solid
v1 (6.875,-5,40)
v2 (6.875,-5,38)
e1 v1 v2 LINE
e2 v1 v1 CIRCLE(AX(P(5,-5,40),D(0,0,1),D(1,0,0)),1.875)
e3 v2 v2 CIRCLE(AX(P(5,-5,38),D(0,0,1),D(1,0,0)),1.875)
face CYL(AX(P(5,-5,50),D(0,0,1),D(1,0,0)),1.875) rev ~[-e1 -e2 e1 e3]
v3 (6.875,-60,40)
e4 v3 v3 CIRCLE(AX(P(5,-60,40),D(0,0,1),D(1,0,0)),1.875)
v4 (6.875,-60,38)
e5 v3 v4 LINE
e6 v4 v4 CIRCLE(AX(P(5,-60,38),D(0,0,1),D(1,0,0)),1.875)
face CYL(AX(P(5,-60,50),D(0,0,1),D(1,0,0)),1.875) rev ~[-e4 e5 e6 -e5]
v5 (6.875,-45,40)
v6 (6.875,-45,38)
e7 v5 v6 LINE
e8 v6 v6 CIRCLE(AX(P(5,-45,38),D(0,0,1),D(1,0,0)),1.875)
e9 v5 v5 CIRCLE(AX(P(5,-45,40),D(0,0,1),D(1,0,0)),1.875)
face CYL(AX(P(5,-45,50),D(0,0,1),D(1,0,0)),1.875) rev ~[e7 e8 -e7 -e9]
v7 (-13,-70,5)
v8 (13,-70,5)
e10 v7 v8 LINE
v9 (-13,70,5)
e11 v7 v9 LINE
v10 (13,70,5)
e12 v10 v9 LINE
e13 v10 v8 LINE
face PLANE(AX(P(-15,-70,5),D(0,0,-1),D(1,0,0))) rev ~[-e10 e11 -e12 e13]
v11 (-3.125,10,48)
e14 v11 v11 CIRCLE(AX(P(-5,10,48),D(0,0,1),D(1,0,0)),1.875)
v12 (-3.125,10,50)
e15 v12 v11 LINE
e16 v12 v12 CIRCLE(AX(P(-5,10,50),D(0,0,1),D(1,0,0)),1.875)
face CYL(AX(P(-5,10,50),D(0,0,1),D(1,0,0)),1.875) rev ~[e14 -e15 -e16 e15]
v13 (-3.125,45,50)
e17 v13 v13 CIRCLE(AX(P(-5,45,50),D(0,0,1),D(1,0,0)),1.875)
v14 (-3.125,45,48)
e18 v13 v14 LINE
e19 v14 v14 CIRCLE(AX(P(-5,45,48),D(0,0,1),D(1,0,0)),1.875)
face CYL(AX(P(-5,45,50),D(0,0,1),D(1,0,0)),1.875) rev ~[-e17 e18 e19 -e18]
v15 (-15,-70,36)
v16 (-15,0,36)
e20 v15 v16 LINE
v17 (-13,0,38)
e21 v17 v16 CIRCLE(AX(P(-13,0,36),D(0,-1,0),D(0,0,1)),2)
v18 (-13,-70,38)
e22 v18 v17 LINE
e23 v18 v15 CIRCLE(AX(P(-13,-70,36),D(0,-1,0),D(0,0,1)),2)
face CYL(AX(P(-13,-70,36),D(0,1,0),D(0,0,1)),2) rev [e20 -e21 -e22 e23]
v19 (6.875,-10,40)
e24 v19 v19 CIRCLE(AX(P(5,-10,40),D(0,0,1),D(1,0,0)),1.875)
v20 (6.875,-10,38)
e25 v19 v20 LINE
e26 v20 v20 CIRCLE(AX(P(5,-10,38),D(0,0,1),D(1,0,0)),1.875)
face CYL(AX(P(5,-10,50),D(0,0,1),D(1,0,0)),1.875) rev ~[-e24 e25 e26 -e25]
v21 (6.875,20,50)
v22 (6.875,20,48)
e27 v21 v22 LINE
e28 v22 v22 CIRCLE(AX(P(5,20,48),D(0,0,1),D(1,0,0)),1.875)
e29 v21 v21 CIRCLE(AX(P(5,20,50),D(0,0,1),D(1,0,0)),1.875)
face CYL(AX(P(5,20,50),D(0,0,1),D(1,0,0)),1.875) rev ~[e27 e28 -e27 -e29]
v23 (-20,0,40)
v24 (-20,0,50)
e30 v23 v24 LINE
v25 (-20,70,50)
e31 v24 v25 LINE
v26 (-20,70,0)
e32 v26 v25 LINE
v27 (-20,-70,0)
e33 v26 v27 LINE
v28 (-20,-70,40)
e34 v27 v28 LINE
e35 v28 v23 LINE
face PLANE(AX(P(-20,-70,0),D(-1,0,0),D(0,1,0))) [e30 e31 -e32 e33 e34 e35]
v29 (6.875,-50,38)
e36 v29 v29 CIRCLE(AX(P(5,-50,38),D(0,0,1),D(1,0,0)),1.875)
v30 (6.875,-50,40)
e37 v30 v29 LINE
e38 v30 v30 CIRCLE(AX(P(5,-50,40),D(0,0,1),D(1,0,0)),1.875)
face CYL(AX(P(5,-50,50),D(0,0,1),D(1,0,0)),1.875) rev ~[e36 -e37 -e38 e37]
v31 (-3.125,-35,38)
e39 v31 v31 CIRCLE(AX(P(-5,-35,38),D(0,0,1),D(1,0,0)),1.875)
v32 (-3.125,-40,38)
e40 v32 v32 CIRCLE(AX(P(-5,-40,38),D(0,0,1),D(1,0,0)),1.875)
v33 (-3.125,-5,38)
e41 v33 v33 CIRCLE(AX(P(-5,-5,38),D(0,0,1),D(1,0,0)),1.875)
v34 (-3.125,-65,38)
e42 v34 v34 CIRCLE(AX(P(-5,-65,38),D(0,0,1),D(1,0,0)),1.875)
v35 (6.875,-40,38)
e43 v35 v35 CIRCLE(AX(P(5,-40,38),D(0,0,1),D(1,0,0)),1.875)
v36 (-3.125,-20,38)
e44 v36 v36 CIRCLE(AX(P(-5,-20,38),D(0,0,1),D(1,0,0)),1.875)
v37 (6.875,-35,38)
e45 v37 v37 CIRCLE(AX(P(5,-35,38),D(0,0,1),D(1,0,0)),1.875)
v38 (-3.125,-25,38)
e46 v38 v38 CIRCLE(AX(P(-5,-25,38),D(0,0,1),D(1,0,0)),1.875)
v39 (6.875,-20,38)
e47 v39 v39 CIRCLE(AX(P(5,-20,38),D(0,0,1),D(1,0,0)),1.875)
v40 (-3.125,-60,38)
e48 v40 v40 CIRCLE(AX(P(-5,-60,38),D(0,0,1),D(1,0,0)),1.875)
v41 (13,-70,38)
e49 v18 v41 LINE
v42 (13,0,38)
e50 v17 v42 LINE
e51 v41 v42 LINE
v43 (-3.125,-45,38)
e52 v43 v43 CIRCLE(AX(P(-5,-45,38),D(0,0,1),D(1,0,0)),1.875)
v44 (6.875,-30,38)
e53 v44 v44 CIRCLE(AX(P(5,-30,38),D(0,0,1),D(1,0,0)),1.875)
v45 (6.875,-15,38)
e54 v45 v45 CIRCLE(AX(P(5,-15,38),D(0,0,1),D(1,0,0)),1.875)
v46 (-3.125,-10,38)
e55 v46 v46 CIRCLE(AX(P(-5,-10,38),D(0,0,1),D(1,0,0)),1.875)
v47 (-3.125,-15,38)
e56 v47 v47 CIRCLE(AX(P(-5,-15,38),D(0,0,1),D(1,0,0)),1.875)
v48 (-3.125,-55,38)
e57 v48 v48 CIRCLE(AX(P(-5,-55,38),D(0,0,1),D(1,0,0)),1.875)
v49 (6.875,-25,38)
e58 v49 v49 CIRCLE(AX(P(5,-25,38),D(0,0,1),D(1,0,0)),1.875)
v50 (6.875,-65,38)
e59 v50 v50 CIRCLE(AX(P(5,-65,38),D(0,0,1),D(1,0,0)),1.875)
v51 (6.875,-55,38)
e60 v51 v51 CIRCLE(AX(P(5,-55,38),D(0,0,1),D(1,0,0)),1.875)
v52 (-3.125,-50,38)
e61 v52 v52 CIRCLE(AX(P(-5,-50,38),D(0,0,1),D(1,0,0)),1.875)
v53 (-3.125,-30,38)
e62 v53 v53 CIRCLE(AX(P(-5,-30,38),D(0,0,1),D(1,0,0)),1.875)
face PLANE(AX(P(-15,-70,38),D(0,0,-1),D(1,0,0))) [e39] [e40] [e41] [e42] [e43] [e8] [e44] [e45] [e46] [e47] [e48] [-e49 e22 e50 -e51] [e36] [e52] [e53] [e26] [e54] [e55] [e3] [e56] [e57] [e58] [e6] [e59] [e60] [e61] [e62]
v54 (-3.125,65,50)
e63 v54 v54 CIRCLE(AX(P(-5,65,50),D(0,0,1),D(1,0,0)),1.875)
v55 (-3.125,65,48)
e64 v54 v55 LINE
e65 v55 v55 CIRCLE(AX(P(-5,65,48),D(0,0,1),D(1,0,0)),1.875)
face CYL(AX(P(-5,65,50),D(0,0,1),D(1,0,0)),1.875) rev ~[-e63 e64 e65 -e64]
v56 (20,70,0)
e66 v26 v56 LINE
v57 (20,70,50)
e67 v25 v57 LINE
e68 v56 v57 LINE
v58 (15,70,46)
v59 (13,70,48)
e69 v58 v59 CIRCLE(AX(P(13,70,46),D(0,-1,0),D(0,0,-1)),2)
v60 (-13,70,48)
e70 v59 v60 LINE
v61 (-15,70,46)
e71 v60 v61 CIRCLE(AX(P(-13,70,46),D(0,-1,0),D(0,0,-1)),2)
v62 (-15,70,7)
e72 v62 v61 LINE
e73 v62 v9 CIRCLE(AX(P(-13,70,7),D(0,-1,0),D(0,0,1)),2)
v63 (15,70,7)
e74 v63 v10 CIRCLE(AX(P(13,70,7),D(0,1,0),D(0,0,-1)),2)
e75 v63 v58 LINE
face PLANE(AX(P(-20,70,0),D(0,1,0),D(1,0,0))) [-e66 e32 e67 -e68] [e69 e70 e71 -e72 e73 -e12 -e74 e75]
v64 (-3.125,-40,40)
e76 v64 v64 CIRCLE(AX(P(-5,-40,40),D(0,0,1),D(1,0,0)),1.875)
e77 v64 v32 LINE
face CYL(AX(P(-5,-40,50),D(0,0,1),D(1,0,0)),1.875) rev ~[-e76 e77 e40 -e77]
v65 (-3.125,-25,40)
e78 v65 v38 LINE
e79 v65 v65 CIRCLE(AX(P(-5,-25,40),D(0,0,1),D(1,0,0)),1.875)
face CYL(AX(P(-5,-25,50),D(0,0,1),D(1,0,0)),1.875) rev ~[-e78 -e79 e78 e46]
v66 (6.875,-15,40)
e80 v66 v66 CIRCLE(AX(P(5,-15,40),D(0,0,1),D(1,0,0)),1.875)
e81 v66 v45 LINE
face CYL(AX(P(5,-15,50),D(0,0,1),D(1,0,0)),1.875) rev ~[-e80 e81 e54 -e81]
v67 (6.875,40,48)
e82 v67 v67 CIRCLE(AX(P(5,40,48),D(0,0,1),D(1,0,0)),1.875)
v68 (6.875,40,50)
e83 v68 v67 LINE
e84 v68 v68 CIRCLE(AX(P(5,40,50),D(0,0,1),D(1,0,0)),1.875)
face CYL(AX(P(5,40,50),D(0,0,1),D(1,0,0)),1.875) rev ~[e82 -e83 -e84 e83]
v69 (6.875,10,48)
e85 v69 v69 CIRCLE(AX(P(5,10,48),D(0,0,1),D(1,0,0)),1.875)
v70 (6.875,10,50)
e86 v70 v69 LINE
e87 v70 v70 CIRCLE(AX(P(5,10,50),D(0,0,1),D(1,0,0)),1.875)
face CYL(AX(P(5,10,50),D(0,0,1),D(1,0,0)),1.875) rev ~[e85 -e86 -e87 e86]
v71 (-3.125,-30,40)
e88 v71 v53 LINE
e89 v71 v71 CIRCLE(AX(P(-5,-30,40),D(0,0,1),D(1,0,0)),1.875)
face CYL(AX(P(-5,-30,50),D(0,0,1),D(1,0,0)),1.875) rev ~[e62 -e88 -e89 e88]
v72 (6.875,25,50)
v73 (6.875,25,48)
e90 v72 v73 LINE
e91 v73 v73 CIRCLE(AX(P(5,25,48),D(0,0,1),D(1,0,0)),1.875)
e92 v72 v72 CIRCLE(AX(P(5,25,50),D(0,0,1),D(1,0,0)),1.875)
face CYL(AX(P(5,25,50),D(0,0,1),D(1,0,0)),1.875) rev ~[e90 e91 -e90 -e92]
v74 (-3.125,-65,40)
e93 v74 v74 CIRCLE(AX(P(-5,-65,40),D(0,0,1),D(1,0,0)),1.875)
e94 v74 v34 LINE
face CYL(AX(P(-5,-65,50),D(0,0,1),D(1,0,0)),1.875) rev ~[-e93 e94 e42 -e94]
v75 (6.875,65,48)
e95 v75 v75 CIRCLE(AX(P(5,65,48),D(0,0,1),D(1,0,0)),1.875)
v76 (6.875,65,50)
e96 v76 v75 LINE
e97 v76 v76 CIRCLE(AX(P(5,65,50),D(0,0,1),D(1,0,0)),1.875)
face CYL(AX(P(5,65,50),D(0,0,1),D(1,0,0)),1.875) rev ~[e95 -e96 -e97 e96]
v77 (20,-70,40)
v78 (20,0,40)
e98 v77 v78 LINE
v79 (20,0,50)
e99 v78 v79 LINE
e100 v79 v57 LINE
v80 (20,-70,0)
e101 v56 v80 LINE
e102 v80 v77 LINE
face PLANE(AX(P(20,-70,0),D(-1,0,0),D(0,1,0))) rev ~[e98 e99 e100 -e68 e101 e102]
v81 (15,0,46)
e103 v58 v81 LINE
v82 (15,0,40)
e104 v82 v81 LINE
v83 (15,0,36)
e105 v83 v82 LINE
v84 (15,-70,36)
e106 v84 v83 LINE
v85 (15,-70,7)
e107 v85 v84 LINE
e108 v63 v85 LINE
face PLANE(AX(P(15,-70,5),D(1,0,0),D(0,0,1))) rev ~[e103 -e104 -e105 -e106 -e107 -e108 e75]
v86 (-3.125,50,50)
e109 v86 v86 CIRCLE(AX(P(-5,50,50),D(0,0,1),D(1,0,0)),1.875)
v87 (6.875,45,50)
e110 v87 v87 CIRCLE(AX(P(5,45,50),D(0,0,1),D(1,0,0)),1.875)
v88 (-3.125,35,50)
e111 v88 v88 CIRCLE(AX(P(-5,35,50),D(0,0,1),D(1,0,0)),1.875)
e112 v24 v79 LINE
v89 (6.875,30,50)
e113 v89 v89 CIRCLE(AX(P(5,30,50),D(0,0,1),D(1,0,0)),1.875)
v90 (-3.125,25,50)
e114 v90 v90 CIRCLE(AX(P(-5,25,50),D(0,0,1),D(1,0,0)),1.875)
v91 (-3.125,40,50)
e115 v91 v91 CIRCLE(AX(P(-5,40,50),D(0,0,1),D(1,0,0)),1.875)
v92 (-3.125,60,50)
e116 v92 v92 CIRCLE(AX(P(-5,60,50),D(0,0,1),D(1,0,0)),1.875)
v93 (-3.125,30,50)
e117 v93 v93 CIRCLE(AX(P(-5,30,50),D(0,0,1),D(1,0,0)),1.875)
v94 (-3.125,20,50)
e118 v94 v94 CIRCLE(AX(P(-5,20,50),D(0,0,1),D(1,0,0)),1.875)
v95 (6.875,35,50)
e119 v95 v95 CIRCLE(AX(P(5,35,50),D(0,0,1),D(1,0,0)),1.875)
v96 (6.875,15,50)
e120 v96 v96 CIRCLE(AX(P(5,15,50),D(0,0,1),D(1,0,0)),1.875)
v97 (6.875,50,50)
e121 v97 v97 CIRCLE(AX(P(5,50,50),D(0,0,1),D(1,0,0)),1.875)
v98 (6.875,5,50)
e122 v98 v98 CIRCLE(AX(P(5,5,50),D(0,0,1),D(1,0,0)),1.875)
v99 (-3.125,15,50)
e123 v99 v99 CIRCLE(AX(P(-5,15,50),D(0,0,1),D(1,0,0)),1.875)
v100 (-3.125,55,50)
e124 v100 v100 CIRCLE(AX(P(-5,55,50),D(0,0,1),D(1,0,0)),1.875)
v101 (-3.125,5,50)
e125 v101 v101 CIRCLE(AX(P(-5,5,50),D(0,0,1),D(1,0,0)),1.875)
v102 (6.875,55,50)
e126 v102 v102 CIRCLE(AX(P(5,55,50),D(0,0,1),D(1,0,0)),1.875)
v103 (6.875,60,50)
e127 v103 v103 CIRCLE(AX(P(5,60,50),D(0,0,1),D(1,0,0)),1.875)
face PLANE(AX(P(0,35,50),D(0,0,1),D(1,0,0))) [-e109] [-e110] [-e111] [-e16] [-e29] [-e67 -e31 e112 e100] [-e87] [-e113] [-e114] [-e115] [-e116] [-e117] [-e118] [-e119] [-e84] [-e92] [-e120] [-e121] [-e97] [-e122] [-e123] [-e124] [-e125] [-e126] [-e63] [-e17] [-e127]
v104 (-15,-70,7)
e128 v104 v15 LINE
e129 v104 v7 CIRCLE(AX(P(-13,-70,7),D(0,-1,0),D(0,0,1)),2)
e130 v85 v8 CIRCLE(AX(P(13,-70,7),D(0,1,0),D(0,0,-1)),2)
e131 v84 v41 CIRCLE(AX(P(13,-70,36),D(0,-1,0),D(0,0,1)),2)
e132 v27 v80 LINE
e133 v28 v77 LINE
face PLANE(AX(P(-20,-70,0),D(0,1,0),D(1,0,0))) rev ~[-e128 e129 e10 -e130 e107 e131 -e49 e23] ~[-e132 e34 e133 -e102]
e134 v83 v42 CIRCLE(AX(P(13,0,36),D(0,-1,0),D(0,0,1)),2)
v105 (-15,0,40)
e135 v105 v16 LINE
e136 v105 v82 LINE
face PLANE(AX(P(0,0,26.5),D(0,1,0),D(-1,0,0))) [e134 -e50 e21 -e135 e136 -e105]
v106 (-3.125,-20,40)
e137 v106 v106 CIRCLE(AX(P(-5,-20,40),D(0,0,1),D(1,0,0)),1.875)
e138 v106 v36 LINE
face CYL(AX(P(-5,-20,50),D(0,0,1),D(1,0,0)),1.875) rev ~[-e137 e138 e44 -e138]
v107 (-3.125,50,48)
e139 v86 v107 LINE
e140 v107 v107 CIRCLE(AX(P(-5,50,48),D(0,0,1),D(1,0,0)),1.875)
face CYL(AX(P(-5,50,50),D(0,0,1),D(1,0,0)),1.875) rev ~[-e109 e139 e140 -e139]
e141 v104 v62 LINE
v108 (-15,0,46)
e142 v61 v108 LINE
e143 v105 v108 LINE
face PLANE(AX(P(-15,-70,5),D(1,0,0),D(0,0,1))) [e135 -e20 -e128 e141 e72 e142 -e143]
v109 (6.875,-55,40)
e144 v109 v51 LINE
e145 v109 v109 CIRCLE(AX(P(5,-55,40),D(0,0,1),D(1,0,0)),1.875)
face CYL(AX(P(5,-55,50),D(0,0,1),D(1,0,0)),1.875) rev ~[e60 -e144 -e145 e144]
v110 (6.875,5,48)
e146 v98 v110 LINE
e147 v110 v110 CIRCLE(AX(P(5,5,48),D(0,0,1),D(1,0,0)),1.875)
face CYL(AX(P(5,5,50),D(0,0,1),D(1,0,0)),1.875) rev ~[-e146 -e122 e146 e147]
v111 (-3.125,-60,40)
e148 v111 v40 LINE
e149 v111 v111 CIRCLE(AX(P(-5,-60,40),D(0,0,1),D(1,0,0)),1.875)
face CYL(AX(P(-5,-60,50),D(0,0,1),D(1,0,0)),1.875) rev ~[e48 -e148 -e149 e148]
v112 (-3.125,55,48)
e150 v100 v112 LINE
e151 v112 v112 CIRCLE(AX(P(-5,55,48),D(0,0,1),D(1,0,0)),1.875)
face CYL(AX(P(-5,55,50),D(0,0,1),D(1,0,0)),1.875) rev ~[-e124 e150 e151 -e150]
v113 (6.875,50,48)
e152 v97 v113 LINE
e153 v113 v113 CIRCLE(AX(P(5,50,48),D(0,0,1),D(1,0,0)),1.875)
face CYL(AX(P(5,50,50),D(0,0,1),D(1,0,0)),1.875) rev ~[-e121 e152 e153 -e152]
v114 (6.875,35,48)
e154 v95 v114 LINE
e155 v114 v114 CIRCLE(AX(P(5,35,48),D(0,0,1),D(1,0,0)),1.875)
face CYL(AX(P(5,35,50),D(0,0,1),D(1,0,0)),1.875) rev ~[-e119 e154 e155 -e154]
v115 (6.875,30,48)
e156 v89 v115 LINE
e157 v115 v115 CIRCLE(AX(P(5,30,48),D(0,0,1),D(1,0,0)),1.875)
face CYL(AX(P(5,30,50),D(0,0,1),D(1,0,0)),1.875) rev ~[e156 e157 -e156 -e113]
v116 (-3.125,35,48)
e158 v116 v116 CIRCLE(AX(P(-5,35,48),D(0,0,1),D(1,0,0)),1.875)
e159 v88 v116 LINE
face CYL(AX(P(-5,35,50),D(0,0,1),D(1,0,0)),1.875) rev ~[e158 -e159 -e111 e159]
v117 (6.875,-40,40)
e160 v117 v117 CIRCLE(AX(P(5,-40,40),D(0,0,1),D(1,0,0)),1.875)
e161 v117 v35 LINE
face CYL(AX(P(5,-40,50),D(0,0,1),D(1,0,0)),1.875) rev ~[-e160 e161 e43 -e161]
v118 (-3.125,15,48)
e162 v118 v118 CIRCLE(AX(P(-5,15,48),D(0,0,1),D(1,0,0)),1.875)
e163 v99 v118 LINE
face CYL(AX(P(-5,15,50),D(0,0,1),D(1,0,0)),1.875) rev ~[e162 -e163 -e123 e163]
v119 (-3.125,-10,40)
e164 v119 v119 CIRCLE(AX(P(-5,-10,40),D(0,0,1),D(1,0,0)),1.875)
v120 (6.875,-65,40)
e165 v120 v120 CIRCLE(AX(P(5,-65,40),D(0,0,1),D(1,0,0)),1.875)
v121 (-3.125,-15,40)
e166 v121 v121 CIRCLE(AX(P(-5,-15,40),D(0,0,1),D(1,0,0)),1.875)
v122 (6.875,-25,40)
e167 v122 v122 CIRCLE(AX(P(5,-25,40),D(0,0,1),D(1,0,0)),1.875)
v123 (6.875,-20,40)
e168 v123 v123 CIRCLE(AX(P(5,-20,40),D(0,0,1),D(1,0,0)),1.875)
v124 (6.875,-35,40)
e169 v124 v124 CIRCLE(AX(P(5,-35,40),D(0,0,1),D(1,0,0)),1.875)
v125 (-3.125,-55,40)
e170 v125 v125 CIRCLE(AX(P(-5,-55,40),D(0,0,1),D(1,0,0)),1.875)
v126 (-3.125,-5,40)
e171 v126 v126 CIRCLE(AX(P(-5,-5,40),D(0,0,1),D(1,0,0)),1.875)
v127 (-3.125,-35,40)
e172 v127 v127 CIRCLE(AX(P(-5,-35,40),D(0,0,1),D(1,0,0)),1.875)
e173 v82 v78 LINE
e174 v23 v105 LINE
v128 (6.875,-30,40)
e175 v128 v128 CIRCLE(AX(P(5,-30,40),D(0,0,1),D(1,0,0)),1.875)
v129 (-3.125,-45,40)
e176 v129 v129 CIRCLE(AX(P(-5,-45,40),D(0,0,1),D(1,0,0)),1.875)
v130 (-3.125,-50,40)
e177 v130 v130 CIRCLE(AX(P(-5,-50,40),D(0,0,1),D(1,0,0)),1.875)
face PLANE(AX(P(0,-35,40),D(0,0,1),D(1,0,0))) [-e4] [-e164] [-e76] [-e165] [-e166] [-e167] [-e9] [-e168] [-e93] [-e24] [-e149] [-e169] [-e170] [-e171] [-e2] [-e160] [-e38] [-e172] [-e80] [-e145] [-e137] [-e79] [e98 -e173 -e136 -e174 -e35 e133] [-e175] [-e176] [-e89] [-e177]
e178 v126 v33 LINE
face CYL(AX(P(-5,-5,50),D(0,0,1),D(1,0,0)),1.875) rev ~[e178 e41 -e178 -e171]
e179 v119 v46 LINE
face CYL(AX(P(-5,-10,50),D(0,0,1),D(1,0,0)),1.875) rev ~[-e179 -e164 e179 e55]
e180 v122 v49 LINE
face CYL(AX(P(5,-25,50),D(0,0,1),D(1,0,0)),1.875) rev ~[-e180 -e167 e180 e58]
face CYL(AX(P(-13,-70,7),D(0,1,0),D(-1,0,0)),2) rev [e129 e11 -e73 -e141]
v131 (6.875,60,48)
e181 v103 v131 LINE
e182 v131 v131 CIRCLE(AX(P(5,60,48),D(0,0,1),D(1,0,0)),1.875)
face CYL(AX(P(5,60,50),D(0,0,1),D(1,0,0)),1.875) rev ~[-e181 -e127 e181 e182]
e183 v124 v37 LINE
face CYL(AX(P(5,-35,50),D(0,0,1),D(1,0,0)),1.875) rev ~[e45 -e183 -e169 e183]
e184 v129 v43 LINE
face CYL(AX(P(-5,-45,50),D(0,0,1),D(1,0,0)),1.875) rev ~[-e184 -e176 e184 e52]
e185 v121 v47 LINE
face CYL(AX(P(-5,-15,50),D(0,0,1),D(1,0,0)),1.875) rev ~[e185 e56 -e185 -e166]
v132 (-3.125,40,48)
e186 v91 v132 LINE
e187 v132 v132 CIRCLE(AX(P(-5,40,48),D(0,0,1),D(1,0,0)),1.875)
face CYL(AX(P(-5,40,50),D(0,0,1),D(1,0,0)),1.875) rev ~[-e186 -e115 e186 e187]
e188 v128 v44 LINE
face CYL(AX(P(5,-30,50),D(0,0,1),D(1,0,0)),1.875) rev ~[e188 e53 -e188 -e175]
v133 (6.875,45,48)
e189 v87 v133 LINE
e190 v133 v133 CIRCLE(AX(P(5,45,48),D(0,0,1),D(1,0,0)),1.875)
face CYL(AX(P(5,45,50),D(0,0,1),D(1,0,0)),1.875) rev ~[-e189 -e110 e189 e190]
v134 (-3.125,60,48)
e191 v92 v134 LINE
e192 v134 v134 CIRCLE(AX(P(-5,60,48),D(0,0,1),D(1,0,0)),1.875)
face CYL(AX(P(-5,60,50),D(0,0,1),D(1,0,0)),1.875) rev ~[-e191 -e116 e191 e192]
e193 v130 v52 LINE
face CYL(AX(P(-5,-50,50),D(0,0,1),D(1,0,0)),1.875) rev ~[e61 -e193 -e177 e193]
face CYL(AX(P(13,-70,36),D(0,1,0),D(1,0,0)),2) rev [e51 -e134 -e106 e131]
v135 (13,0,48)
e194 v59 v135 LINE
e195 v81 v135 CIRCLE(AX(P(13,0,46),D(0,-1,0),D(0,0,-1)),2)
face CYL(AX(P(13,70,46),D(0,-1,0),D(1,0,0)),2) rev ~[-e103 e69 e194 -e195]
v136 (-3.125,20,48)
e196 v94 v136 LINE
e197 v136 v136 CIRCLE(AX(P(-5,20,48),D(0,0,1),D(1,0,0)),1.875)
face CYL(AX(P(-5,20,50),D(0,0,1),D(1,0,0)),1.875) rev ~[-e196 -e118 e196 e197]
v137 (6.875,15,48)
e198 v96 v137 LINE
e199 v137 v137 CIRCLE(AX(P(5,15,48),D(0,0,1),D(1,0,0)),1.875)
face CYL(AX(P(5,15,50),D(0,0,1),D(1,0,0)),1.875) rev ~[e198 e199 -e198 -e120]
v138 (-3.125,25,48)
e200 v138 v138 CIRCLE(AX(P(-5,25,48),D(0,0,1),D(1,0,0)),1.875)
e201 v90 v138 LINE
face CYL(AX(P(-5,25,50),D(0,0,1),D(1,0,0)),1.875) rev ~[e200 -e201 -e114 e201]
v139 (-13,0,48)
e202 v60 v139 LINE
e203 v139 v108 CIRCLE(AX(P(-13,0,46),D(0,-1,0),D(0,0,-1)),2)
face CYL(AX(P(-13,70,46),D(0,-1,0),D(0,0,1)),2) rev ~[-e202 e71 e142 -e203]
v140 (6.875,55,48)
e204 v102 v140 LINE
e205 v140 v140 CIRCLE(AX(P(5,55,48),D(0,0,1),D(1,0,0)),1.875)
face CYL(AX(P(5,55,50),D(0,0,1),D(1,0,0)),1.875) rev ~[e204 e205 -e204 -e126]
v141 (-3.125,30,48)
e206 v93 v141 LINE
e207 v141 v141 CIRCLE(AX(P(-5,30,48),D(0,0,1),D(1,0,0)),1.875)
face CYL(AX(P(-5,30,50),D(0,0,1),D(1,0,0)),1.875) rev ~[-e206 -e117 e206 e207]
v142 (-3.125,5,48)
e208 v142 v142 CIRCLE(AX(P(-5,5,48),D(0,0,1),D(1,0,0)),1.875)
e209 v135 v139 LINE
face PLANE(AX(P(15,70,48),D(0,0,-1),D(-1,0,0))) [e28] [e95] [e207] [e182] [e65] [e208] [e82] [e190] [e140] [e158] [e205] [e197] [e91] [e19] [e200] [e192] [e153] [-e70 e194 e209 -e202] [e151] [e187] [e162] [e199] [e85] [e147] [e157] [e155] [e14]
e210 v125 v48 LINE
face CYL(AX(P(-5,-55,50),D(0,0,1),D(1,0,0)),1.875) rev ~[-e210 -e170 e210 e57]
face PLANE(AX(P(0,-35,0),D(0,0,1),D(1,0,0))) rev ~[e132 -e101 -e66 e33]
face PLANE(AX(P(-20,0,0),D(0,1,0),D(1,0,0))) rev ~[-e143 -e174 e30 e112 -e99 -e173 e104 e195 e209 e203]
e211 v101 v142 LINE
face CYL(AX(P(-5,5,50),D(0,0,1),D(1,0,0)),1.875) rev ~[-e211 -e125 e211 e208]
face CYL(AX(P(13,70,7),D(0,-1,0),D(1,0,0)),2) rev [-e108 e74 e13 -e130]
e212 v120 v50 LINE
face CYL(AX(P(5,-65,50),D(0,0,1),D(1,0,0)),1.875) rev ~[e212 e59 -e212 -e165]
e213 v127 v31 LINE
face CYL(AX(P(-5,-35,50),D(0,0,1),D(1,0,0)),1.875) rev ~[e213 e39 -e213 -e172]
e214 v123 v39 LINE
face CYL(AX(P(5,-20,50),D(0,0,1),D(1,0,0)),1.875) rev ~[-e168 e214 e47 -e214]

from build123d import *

# Parameters (mm, degrees)
F0_W      = 40
F0_H      = 70
F1_DEPTH  = 50
F2_W      = 40
F2_H      = 70
F3_DEPTH  = 40
F4_W      = 30
F4_H      = 33
F5_DEPTH  = 70
F6_W      = 30
F6_H      = 43
F7_DEPTH  = 70
F8_R      = 2
F9_R      = 1.875
F10_DEPTH = 15


with BuildPart() as f1:
    # F0 (on Top) → F1 (new body)
    with BuildSketch(Plane.XY):
        with Locations((0, 35)):
            Rectangle(F0_W, F0_H)
    extrude(amount=F1_DEPTH)

    # F2 (on Top) → F3 (join)
    with BuildSketch(Plane.XY):
        with Locations((0, -35)):
            Rectangle(F2_W, F2_H)
    extrude(amount=F3_DEPTH)

    # F4 (on face) → F5 (cut)
    with BuildSketch(Plane.XZ.offset(70)):
        with Locations((0, 21.5)):
            Rectangle(F4_W, F4_H)
    extrude(amount=-F5_DEPTH, mode=Mode.SUBTRACT)

    # F6 (on face) → F7 (cut)
    with BuildSketch(Plane(origin=(0, 70, 0), x_dir=(-1, 0, 0), z_dir=(0, 1, 0))):
        with Locations((0, 26.5)):
            Rectangle(F6_W, F6_H)
    extrude(amount=-F7_DEPTH, mode=Mode.SUBTRACT)

    # F8
    f8_edges = [f1.edges().sort_by_distance(p)[0] for p in [
        (-15, 0, 5),
        (15, 0, 5),
        (15, -35, 38),
        (-15, -35, 38),
        (15, 35, 48),
        (-15, 35, 48),
    ]]
    fillet(f8_edges, radius=F8_R)

    # F9 (on face) → F10 (cut)
    with BuildSketch(Plane.XY.offset(50)):
        with Locations((5, 65)):
            Circle(F9_R)
        with Locations((5, 60)):
            Circle(F9_R)
        with Locations((5, 55)):
            Circle(F9_R)
        with Locations((5, 50)):
            Circle(F9_R)
        with Locations((5, 45)):
            Circle(F9_R)
        with Locations((5, 40)):
            Circle(F9_R)
        with Locations((5, 35)):
            Circle(F9_R)
        with Locations((5, 30)):
            Circle(F9_R)
        with Locations((5, 25)):
            Circle(F9_R)
        with Locations((5, 20)):
            Circle(F9_R)
        with Locations((5, 15)):
            Circle(F9_R)
        with Locations((5, 10)):
            Circle(F9_R)
        with Locations((5, 5)):
            Circle(F9_R)
        with Locations((5, -5)):
            Circle(F9_R)
        with Locations((5, -10)):
            Circle(F9_R)
        with Locations((5, -15)):
            Circle(F9_R)
        with Locations((5, -20)):
            Circle(F9_R)
        with Locations((5, -25)):
            Circle(F9_R)
        with Locations((5, -30)):
            Circle(F9_R)
        with Locations((5, -35)):
            Circle(F9_R)
        with Locations((5, -40)):
            Circle(F9_R)
        with Locations((5, -45)):
            Circle(F9_R)
        with Locations((5, -50)):
            Circle(F9_R)
        with Locations((5, -55)):
            Circle(F9_R)
        with Locations((5, -60)):
            Circle(F9_R)
        with Locations((5, -65)):
            Circle(F9_R)
        with Locations((-5, 65)):
            Circle(F9_R)
        with Locations((-5, 60)):
            Circle(F9_R)
        with Locations((-5, 55)):
            Circle(F9_R)
        with Locations((-5, 50)):
            Circle(F9_R)
        with Locations((-5, 45)):
            Circle(F9_R)
        with Locations((-5, 40)):
            Circle(F9_R)
        with Locations((-5, 35)):
            Circle(F9_R)
        with Locations((-5, 30)):
            Circle(F9_R)
        with Locations((-5, 25)):
            Circle(F9_R)
        with Locations((-5, 20)):
            Circle(F9_R)
        with Locations((-5, 15)):
            Circle(F9_R)
        with Locations((-5, 10)):
            Circle(F9_R)
        with Locations((-5, 5)):
            Circle(F9_R)
        with Locations((-5, -5)):
            Circle(F9_R)
        with Locations((-5, -10)):
            Circle(F9_R)
        with Locations((-5, -15)):
            Circle(F9_R)
        with Locations((-5, -20)):
            Circle(F9_R)
        with Locations((-5, -25)):
            Circle(F9_R)
        with Locations((-5, -30)):
            Circle(F9_R)
        with Locations((-5, -35)):
            Circle(F9_R)
        with Locations((-5, -40)):
            Circle(F9_R)
        with Locations((-5, -45)):
            Circle(F9_R)
        with Locations((-5, -50)):
            Circle(F9_R)
        with Locations((-5, -55)):
            Circle(F9_R)
        with Locations((-5, -60)):
            Circle(F9_R)
        with Locations((-5, -65)):
            Circle(F9_R)
    extrude(amount=-F10_DEPTH, mode=Mode.SUBTRACT)


solid = f1.part
